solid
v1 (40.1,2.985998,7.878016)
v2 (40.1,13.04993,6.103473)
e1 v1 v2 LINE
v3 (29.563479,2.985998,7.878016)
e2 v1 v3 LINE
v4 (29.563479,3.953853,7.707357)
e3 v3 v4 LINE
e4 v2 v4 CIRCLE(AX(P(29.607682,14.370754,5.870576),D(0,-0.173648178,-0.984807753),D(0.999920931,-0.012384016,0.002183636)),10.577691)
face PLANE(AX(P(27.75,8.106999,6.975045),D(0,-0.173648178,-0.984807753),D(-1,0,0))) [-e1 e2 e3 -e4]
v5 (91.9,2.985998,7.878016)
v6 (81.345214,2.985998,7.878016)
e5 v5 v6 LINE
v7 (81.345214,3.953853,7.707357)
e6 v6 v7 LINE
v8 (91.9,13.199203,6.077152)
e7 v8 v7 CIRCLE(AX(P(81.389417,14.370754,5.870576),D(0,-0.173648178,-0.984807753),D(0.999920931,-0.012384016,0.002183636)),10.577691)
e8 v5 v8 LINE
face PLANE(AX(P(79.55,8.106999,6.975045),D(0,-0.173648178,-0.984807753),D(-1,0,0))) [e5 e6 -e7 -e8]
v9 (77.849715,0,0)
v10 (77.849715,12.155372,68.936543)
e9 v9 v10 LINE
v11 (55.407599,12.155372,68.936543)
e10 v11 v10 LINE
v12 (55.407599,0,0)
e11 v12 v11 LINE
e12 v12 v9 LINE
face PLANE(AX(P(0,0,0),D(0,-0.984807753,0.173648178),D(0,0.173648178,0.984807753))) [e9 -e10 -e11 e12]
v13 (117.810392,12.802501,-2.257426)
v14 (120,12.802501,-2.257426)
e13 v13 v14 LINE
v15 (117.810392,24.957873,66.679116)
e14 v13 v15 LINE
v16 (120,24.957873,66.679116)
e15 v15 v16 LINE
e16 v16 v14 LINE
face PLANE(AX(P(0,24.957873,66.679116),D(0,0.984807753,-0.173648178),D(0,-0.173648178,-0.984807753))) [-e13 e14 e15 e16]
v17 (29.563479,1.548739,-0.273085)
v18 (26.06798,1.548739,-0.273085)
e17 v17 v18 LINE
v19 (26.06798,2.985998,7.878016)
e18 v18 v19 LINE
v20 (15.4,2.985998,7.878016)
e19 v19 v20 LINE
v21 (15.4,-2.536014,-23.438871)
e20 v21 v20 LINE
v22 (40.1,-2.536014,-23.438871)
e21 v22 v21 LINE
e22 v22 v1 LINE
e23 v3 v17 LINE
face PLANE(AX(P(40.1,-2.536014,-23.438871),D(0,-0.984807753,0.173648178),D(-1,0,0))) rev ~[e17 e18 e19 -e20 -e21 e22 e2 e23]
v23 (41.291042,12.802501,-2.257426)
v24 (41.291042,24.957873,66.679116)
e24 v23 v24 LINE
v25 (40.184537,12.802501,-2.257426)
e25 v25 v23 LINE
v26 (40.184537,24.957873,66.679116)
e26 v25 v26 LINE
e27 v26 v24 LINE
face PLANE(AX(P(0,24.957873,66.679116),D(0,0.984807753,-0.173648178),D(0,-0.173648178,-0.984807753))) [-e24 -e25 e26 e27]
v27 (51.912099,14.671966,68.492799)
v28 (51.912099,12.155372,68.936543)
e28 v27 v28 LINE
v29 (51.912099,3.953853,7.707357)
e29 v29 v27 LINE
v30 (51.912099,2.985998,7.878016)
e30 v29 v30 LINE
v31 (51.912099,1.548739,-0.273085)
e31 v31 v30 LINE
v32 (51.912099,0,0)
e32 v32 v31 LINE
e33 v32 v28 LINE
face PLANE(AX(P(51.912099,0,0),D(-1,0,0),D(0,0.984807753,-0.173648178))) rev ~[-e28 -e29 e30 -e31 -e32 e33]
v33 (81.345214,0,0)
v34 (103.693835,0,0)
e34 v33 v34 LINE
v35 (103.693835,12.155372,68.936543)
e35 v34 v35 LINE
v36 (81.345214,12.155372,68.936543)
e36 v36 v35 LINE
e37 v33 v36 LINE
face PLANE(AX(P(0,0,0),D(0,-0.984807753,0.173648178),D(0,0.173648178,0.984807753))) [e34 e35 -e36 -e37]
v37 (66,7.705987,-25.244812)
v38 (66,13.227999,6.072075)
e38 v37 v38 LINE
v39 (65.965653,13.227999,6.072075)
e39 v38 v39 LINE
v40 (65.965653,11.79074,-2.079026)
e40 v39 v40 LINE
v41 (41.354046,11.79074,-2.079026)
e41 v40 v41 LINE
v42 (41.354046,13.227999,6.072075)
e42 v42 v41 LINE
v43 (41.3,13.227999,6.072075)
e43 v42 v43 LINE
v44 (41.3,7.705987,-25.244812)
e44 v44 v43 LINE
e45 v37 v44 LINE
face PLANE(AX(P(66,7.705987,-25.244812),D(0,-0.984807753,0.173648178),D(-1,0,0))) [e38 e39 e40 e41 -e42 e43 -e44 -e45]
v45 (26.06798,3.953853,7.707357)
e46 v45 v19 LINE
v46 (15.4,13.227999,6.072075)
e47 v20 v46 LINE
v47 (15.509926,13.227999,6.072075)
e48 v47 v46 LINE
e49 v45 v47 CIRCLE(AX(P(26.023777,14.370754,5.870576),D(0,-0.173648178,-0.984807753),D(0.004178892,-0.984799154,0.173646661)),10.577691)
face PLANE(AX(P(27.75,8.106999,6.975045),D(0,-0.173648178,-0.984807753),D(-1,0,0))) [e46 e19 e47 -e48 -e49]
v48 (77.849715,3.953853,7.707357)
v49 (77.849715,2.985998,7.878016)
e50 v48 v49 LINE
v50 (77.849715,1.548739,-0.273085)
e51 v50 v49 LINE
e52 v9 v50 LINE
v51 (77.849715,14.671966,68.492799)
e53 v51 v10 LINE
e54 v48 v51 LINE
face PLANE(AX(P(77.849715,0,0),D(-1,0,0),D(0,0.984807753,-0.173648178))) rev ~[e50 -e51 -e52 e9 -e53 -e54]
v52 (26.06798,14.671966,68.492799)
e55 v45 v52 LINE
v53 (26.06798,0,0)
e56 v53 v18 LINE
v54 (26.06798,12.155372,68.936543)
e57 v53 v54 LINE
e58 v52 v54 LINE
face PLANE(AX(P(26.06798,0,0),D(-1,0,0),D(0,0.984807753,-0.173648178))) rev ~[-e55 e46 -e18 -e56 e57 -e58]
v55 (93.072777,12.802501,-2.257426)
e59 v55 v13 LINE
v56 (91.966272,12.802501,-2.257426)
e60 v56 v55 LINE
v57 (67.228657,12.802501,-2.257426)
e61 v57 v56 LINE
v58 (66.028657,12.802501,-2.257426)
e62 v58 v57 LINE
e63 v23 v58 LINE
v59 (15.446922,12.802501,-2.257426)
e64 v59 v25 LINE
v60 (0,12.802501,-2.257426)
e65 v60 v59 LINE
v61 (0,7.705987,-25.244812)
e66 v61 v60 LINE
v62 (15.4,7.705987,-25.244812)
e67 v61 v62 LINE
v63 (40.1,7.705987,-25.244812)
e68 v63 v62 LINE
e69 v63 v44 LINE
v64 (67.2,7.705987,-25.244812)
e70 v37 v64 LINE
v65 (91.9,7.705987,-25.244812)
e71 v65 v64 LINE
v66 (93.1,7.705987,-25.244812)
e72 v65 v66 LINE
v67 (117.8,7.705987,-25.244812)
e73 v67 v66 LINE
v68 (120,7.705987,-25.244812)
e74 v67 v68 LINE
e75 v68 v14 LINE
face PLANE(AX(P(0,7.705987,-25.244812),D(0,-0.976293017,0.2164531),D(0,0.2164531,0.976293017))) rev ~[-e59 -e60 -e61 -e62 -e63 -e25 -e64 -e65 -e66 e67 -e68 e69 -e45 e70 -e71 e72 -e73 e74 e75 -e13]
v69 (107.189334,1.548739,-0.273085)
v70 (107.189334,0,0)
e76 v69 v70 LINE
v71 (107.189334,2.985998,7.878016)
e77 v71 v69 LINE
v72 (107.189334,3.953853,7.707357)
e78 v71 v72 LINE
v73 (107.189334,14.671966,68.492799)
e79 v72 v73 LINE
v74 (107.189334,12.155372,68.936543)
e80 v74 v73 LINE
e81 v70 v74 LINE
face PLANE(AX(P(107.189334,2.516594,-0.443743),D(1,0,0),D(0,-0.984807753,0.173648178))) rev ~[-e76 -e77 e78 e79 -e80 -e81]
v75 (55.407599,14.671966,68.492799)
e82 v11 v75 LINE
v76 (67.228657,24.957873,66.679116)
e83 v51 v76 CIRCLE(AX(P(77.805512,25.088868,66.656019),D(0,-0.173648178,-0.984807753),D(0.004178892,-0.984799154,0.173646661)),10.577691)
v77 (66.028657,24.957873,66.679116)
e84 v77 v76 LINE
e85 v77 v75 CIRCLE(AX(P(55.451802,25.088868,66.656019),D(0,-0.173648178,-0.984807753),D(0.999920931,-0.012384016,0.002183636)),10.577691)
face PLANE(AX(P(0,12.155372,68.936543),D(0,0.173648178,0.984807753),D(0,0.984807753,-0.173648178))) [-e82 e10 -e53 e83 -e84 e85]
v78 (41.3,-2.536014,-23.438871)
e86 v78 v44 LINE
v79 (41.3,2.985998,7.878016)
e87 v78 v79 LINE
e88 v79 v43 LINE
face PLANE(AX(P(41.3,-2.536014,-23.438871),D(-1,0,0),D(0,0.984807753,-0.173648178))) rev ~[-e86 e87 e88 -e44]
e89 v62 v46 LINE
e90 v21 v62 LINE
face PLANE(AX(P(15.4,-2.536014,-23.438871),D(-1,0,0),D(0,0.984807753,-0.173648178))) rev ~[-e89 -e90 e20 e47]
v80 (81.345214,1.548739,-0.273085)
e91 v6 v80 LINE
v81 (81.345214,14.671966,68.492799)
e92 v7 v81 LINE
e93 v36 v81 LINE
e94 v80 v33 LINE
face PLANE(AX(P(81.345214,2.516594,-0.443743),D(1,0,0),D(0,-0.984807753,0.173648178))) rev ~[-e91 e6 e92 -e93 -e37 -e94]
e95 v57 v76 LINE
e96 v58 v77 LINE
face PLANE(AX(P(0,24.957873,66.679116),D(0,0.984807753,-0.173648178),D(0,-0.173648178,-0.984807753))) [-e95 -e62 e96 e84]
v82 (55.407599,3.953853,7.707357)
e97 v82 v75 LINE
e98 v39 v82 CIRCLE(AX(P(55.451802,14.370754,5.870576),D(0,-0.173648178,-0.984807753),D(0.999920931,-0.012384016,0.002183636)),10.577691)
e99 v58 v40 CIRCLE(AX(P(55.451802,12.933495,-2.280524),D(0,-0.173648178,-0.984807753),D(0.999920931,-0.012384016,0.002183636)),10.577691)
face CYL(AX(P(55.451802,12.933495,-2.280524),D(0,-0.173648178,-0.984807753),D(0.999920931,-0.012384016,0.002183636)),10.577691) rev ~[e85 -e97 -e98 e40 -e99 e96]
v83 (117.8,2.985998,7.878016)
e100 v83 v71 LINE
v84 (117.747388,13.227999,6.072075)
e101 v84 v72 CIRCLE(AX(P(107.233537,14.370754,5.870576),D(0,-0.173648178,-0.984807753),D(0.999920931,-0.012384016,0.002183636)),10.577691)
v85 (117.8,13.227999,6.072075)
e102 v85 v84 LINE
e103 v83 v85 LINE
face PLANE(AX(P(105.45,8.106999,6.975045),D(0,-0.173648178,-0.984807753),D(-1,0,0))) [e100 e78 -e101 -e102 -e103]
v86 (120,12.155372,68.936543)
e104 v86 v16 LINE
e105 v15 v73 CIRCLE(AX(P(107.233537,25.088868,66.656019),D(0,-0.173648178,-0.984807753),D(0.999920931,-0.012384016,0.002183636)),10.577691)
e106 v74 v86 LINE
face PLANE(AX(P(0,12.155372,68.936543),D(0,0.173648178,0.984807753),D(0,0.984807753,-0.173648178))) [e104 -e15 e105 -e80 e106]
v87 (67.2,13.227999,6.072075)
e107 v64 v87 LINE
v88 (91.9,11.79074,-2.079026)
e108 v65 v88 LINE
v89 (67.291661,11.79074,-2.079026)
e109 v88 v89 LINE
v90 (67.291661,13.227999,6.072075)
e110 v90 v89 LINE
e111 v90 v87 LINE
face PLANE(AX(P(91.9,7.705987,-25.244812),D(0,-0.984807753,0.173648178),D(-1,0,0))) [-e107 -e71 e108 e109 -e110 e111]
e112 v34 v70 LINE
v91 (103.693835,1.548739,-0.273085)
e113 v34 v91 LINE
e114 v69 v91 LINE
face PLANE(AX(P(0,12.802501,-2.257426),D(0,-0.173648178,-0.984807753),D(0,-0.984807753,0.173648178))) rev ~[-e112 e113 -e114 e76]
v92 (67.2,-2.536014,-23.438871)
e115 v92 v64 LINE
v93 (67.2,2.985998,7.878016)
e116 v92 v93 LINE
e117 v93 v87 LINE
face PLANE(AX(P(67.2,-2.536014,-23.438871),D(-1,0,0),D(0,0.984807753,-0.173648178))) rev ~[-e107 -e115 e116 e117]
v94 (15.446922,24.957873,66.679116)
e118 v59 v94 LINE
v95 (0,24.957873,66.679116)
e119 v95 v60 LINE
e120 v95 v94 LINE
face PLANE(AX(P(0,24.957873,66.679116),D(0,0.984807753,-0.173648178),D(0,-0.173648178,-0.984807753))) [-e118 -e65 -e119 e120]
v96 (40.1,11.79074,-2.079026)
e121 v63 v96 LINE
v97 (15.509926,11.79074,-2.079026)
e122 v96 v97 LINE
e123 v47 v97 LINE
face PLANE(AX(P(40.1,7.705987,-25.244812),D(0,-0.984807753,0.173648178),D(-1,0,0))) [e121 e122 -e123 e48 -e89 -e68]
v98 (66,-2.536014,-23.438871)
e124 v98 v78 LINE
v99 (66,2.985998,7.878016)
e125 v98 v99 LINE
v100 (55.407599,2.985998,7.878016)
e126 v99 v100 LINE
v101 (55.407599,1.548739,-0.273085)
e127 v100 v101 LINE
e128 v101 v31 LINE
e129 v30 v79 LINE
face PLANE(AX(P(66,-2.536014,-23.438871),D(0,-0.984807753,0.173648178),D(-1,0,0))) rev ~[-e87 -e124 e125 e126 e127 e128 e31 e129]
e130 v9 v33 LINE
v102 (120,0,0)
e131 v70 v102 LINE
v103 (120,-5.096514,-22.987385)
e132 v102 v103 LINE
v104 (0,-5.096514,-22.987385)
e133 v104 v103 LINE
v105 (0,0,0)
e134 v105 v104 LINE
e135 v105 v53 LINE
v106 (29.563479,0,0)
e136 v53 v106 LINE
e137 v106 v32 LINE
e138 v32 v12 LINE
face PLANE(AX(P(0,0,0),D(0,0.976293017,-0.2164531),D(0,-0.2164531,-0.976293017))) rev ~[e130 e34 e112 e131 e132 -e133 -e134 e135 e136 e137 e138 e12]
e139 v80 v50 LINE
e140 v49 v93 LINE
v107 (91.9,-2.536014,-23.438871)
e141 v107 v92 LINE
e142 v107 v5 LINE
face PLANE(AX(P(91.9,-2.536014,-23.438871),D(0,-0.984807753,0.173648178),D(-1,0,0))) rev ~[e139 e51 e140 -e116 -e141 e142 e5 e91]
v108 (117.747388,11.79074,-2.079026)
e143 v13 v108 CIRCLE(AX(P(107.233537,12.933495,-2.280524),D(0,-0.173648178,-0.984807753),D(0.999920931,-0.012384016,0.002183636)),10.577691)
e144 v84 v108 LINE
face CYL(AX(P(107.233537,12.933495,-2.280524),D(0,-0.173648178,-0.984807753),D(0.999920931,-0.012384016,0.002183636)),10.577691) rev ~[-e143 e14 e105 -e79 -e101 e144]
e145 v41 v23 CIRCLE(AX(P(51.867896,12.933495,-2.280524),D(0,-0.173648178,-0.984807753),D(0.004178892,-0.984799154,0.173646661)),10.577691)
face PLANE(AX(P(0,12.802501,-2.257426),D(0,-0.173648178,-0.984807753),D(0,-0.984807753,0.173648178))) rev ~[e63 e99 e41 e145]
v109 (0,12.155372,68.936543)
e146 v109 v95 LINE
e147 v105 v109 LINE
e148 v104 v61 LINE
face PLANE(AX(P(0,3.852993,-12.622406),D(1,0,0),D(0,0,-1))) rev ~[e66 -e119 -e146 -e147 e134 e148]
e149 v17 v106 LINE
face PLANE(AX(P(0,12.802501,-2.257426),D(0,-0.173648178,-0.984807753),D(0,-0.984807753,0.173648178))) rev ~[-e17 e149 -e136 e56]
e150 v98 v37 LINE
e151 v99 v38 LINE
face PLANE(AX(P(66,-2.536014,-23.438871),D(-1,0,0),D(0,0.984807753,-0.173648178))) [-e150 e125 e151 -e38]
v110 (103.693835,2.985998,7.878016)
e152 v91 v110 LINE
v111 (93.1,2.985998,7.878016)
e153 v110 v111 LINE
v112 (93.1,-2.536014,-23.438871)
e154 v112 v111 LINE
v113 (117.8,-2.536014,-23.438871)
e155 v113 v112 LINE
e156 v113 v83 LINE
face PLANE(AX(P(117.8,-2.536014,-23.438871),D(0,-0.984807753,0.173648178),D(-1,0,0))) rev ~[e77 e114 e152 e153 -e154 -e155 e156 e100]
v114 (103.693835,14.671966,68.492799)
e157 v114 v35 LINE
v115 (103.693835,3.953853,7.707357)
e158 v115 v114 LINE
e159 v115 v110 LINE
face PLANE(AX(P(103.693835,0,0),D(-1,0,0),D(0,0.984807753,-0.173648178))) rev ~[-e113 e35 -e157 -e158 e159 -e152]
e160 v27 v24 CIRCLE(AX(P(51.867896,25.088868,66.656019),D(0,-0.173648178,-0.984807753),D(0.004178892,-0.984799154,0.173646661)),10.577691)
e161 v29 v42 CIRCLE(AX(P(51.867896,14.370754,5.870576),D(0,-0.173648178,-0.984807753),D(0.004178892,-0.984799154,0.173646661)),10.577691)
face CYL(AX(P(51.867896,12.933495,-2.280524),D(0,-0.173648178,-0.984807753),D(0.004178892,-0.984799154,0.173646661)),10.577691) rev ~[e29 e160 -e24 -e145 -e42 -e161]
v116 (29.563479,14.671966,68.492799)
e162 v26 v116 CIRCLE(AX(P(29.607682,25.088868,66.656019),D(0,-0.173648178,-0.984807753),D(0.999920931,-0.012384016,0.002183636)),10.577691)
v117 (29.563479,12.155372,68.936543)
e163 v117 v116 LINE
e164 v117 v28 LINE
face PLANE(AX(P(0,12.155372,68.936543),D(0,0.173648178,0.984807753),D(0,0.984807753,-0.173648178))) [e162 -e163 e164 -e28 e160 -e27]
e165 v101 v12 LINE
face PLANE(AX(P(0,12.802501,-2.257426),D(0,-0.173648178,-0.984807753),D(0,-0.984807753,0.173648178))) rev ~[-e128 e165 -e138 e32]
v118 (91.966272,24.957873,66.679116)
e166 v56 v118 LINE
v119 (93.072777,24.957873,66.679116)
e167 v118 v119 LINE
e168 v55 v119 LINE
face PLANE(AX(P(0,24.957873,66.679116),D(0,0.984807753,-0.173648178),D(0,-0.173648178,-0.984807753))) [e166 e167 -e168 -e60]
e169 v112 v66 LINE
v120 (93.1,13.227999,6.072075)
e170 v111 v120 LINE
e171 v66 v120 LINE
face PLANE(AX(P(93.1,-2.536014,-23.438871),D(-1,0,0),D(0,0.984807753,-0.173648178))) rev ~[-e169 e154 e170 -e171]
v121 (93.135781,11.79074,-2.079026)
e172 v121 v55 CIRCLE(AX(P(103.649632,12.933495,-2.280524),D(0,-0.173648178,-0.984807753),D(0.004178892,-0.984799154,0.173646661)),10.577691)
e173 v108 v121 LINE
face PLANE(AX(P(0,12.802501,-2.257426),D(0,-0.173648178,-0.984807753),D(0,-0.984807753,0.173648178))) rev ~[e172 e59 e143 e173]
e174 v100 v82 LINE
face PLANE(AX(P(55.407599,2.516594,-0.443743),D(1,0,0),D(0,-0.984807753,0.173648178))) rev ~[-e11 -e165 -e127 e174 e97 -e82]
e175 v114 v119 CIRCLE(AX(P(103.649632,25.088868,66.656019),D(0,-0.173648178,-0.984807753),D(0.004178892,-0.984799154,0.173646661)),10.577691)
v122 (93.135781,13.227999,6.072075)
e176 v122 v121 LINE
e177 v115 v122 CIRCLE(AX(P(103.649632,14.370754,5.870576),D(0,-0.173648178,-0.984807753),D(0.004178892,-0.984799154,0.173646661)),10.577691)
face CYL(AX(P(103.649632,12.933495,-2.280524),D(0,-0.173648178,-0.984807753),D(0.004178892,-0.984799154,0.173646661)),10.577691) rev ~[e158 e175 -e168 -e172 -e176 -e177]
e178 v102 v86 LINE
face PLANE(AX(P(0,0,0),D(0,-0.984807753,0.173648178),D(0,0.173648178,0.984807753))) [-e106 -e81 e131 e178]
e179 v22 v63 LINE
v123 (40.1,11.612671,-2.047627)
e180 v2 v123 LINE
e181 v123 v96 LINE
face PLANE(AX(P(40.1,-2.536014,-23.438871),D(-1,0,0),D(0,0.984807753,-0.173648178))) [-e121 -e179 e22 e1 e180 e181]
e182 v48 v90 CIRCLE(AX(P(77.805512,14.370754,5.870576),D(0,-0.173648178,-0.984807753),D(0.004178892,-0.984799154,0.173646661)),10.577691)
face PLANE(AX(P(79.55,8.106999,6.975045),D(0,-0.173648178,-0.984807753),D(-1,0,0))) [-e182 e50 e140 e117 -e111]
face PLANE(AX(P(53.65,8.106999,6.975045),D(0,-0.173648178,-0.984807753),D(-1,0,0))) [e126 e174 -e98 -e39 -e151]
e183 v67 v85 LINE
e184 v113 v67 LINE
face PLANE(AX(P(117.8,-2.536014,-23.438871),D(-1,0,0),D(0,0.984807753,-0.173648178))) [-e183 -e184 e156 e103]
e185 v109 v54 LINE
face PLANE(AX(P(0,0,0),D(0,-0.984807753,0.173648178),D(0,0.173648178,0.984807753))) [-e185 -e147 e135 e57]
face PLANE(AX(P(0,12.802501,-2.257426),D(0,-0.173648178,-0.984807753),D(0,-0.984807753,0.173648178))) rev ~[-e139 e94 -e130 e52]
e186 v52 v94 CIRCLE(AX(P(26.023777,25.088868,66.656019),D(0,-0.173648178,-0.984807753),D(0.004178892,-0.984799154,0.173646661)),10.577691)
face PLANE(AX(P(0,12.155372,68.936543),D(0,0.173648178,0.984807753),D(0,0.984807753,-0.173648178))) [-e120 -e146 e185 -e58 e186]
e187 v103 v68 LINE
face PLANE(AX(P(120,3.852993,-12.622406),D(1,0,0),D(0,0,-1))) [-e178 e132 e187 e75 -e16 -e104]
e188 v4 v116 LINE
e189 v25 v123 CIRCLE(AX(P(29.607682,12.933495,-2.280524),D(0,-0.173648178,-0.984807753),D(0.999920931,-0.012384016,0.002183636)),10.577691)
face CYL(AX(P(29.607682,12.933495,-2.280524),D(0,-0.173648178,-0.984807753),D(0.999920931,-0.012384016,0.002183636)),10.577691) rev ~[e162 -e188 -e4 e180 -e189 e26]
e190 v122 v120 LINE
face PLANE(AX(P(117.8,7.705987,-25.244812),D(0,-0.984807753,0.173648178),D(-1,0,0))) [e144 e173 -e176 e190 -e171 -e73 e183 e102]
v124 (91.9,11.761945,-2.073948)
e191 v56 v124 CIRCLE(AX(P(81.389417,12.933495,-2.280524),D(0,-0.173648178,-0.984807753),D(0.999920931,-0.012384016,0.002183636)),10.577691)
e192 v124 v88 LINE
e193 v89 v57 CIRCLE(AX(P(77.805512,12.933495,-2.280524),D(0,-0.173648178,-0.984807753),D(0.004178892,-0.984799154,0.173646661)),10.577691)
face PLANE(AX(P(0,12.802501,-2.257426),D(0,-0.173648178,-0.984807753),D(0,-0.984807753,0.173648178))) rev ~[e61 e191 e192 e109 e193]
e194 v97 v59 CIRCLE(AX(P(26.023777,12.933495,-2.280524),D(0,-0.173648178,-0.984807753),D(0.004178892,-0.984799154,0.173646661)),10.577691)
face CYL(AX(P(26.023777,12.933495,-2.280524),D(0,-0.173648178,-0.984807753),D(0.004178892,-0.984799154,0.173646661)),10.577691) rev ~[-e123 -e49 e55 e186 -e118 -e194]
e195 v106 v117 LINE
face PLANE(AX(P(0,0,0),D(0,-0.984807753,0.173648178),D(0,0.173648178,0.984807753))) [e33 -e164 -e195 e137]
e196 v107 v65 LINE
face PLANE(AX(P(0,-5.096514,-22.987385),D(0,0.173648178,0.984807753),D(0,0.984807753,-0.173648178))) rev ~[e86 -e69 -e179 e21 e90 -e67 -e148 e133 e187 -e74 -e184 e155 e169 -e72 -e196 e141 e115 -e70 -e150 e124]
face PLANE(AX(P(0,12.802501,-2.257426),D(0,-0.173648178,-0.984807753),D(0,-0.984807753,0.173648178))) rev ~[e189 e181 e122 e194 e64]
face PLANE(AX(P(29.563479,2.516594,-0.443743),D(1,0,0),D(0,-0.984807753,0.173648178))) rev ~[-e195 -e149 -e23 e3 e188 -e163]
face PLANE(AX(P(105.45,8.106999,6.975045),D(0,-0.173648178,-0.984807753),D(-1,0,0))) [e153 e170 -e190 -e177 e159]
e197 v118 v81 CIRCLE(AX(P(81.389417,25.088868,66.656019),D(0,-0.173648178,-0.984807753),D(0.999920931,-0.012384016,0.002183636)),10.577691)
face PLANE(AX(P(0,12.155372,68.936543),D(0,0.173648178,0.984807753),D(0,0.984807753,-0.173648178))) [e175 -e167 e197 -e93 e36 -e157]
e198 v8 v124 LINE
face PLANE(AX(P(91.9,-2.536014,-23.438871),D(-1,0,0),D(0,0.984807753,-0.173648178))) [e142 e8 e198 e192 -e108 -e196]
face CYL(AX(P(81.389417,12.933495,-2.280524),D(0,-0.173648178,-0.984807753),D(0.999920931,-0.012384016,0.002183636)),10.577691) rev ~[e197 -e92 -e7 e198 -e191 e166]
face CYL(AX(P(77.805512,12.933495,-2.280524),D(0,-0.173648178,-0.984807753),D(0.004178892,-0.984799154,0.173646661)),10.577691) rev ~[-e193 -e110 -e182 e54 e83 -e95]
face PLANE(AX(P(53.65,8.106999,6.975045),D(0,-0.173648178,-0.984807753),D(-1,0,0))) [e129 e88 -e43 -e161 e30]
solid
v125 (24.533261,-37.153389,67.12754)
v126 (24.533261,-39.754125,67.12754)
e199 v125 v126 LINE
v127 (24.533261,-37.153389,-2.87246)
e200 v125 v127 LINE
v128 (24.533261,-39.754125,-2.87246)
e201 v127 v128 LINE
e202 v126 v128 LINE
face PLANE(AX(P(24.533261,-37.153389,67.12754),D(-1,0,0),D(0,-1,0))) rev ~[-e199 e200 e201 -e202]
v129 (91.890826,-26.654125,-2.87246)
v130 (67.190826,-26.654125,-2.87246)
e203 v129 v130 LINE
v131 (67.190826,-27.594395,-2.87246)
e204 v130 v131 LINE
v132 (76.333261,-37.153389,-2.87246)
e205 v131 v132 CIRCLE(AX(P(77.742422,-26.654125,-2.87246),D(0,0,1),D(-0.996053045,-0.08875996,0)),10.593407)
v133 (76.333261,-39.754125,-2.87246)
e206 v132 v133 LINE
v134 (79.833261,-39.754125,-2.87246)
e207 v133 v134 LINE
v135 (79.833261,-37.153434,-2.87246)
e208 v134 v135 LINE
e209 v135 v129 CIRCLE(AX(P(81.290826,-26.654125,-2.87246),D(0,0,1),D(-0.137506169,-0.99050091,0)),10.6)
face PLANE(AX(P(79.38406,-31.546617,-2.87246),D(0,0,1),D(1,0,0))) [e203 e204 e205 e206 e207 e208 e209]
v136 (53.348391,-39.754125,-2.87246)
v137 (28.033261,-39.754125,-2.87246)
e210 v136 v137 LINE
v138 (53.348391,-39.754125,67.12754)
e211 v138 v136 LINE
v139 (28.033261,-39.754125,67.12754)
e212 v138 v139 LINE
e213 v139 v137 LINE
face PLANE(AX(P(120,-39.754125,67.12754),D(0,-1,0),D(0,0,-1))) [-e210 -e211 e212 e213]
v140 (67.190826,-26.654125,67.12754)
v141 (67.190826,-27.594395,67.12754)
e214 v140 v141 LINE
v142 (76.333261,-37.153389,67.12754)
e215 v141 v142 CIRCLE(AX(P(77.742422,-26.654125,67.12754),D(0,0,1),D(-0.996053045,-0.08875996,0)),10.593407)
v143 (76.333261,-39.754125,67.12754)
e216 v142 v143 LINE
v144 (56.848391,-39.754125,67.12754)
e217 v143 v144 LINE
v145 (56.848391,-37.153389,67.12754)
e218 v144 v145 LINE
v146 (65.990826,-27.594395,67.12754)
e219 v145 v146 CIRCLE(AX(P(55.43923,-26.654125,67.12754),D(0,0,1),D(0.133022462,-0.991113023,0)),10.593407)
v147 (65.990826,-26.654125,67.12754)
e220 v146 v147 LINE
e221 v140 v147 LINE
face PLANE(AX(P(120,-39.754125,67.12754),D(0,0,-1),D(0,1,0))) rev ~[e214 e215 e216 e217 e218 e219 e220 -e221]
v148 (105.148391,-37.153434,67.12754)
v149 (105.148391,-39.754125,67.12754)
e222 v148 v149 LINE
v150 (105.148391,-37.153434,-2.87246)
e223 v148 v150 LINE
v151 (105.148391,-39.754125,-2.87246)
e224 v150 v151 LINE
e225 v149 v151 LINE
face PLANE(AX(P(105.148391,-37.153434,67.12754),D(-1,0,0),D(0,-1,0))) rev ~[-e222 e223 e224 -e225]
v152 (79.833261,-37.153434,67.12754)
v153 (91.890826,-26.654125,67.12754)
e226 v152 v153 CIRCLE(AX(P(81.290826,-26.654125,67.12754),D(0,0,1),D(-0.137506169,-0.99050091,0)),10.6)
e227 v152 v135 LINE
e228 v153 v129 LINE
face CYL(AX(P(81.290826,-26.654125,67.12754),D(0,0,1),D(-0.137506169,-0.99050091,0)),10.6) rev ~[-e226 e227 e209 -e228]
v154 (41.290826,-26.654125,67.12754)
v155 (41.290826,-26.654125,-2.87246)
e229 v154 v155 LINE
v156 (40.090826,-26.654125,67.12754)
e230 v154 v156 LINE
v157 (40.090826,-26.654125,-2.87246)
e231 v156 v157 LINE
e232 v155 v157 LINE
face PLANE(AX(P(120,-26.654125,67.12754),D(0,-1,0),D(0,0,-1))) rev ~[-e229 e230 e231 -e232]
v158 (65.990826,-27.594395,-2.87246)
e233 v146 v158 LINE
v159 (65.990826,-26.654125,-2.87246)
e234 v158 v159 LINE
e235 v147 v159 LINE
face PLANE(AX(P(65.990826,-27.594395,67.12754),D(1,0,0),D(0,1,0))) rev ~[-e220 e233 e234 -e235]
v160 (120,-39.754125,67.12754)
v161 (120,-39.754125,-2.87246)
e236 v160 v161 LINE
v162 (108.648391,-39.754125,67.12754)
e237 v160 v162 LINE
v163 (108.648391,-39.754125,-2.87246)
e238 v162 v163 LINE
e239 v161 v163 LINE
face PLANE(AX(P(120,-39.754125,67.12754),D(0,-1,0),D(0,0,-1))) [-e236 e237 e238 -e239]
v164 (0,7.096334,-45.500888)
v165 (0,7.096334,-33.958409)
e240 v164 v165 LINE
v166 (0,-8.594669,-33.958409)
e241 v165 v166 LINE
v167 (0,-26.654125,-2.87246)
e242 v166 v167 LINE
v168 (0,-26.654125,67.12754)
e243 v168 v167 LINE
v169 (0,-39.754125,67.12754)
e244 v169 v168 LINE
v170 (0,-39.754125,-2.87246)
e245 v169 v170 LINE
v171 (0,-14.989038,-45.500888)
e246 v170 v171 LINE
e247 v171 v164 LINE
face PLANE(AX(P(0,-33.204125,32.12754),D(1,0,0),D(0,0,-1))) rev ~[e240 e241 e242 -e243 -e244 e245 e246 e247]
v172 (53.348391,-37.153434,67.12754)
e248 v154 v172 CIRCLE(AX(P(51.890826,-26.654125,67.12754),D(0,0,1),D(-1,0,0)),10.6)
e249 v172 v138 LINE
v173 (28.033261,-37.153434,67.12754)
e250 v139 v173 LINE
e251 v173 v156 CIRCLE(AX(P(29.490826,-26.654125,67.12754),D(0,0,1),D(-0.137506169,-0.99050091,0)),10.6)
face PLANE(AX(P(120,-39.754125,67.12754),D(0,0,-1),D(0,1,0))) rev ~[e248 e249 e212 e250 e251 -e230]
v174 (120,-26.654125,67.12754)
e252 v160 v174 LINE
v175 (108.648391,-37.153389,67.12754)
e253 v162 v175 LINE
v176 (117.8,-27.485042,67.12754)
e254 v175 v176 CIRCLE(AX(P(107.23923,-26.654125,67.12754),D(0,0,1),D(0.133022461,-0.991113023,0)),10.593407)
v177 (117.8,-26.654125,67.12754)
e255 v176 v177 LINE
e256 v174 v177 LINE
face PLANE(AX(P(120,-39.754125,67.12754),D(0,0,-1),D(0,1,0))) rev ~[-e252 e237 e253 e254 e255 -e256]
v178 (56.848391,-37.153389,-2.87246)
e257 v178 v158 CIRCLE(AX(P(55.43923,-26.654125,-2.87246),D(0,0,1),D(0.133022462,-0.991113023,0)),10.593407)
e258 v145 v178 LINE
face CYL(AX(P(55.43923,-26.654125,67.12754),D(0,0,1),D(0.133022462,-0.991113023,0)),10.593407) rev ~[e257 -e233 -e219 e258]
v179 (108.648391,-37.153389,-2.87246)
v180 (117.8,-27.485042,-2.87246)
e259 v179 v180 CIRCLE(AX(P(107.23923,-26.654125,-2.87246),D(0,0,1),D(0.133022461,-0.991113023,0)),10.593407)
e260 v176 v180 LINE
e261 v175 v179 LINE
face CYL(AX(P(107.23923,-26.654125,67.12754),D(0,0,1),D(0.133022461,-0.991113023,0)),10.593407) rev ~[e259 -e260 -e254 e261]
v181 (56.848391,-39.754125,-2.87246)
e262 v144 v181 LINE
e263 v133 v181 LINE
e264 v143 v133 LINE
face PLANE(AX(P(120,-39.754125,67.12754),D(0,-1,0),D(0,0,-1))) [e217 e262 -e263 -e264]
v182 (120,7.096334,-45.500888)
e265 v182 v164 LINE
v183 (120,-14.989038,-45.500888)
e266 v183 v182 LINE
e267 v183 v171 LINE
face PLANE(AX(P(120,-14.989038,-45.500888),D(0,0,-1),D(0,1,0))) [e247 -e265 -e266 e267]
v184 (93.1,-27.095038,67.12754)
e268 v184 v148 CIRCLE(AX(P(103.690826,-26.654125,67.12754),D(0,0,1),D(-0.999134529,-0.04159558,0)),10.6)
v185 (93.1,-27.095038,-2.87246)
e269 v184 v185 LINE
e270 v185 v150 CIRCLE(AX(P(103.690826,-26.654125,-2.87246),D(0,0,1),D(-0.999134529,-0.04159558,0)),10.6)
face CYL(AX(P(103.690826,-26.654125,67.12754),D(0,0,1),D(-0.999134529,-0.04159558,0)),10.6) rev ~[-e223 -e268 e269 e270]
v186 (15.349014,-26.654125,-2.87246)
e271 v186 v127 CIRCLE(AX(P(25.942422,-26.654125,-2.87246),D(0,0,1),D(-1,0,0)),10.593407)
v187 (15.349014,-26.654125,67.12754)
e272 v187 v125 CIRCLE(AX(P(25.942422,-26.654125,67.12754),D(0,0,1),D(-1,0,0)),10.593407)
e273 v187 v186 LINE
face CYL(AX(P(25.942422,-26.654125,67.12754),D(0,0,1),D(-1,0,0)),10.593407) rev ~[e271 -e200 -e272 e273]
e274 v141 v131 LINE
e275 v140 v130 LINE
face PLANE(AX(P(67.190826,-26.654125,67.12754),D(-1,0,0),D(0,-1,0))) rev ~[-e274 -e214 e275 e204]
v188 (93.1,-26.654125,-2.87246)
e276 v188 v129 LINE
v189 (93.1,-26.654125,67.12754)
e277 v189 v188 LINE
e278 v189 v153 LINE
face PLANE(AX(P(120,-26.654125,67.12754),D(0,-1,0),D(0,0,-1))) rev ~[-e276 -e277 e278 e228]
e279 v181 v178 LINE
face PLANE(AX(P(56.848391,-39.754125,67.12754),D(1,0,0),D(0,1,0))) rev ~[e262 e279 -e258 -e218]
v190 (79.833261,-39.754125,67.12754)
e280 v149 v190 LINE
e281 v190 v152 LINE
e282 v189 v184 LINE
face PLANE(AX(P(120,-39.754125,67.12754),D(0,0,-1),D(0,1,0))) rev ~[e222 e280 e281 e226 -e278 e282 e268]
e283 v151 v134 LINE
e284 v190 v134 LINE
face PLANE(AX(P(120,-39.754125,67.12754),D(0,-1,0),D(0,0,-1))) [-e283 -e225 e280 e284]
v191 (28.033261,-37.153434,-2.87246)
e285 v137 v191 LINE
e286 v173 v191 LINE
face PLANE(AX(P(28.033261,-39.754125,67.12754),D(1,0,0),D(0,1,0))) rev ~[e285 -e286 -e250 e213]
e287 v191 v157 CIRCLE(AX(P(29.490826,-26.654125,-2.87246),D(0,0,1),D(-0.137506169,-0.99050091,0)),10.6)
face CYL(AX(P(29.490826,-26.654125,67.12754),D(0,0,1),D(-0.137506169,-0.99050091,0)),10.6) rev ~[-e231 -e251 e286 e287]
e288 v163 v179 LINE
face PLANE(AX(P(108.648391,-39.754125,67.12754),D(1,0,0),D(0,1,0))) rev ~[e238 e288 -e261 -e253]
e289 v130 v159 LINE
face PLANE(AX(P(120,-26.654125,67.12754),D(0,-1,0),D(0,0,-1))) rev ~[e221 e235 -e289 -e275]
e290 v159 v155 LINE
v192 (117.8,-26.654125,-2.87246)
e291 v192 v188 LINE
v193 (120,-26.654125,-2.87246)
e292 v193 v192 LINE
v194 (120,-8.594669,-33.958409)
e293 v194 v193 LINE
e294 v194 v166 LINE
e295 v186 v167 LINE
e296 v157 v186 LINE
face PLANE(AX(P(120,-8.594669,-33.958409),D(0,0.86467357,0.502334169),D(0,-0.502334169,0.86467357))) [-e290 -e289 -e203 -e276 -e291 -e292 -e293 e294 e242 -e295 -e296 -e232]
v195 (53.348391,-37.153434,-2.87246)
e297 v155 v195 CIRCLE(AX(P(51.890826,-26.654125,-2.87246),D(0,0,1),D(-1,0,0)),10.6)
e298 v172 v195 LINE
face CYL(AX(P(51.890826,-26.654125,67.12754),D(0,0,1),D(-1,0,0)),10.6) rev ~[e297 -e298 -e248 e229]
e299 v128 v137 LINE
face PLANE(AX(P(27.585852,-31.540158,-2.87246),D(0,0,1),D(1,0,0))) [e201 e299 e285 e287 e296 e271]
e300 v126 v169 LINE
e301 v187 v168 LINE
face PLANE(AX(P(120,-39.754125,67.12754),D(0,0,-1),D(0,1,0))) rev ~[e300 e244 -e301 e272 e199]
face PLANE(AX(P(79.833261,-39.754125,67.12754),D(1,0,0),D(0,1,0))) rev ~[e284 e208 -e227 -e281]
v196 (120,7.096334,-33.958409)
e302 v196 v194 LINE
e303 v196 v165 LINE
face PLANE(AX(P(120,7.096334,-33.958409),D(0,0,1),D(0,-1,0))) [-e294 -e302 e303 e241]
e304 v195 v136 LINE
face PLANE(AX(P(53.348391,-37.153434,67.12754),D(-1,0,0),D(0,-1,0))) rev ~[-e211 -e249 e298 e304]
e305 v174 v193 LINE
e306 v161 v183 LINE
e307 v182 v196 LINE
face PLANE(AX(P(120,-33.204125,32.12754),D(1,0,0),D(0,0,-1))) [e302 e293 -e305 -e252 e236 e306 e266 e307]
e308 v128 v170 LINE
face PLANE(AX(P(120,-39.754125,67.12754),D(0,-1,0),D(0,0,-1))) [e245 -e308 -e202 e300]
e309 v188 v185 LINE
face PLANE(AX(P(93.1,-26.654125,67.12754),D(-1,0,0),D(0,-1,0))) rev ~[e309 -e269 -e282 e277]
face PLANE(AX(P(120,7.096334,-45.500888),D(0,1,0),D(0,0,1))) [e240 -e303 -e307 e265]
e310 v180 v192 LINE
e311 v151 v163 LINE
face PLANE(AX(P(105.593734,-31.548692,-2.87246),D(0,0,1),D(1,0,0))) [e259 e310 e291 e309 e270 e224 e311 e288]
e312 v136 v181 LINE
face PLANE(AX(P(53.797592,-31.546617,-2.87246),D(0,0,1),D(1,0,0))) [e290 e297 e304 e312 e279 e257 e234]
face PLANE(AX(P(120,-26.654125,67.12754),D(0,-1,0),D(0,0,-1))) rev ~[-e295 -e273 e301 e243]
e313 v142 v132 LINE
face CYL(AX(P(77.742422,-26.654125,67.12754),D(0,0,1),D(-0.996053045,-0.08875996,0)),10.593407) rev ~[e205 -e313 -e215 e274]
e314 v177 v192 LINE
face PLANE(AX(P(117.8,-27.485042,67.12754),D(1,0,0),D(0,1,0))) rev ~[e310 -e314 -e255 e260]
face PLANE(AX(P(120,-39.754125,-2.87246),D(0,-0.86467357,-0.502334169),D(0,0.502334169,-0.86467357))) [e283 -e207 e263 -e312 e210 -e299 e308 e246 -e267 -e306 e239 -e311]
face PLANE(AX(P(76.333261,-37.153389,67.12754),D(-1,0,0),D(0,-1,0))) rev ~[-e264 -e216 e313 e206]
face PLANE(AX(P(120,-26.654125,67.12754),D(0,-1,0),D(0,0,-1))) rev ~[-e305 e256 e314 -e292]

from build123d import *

# Parameters (mm, degrees)
BOSS_EXTRUDE1_DEPTH = 120
CUT_EXTRUDE4_DEPTH  = 141.624117266
BOSS_EXTRUDE4_START = -120
BOSS_EXTRUDE4_DEPTH = 120
SKETCH11_W          = 24.7
SKETCH11_H          = 10.4
CUT_EXTRUDE9_DEPTH  = 31.8
BOSS_EXTRUDE5_DEPTH = 120
SKETCH14_W          = 70
SKETCH14_H          = 13.1
BOSS_EXTRUDE6_DEPTH = 120
CUT_EXTRUDE12_DEPTH = 70


with BuildPart() as part:
    # Sketch2 → Boss-Extrude1 (new body)
    with BuildSketch(Plane(origin=(0, 0, 0), x_dir=(0, 0, -1), z_dir=(1, 0, 0))):
        Polygon((-68.936542711, 12.155372437), (-66.679116401, 24.957873226), (2.25742631, 12.802500789), (0, 0), align=None)
    extrude(amount=BOSS_EXTRUDE1_DEPTH)

    # Sketch4 → Cut-Extrude4 (cut, through all)
    with BuildSketch(Plane(origin=(0, 0, 0), x_dir=(-1, 0, 0), z_dir=(0, -0.17364817766692411, -0.9848077530122092))):
        with BuildLine():
            ThreePointArc((-103.693834735, 2.555416204), (-96.232993561, 5.591063706), (-93.072776831, 13))
            Line((-93.072776831, 13), (-117.810392147, 13))
            ThreePointArc((-117.810392147, 13), (-114.650175417, 5.591063706), (-107.189334244, 2.555416204))
            Line((-107.189334244, 2.555416204), (-107.189334244, 0))
            Line((-107.189334244, 0), (-103.693834735, 0))
            Line((-103.693834735, 0), (-103.693834735, 2.555416204))
        make_face()
        with BuildLine():
            Line((-67.228656909, 13), (-91.966272224, 13))
            ThreePointArc((-91.966272224, 13), (-88.806055495, 5.591063706), (-81.345214321, 2.555416204))
            Line((-81.345214321, 2.555416204), (-81.345214321, 0))
            Line((-81.345214321, 0), (-77.849714812, 0))
            Line((-77.849714812, 0), (-77.849714812, 2.555416204))
            ThreePointArc((-77.849714812, 2.555416204), (-70.388873638, 5.591063706), (-67.228656909, 13))
        make_face()
        with BuildLine():
            Line((-41.291041594, 13), (-66.028656909, 13))
            ThreePointArc((-66.028656909, 13), (-62.86844018, 5.591063706), (-55.407599006, 2.555416204))
            Line((-55.407599006, 2.555416204), (-55.407599006, 0))
            Line((-55.407599006, 0), (-51.912099497, 0))
            Line((-51.912099497, 0), (-51.912099497, 2.555416204))
            ThreePointArc((-51.912099497, 2.555416204), (-44.451258323, 5.591063706), (-41.291041594, 13))
        make_face()
        with BuildLine():
            Line((-15.446921672, 13), (-40.184536987, 13))
            ThreePointArc((-40.184536987, 13), (-37.024320257, 5.591063706), (-29.563479084, 2.555416204))
            Line((-29.563479084, 2.555416204), (-29.563479084, 0))
            Line((-29.563479084, 0), (-26.067979575, 0))
            Line((-26.067979575, 0), (-26.067979575, 2.555416204))
            ThreePointArc((-26.067979575, 2.555416204), (-18.607138401, 5.591063706), (-15.446921672, 13))
        make_face()
    extrude(amount=-CUT_EXTRUDE4_DEPTH, mode=Mode.SUBTRACT)


with BuildPart() as cut_extrude4_piece_1:
    # of the separate pieces the step leaves, piece 1, a body of its own (cut_extrude4_pieces)
    add(part.part.solids().sort_by_distance((0, 12.155372437, 68.936542711))[0])



with BuildPart() as cut_extrude4_piece_2:
    # of the separate pieces the step leaves, piece 2, a body of its own (cut_extrude4_pieces)
    add(part.part.solids().sort_by_distance((55.407599006, 12.155372437, 68.936542711))[0])


with BuildPart() as cut_extrude4_piece_3:
    # of the separate pieces the step leaves, piece 3, a body of its own (cut_extrude4_pieces)
    add(part.part.solids().sort_by_distance((81.345214321, 12.155372437, 68.936542711))[0])


with BuildPart() as cut_extrude4_piece_4:
    # of the separate pieces the step leaves, piece 4, a body of its own (cut_extrude4_pieces)
    add(part.part.solids().sort_by_distance((29.563479084, 12.155372437, 68.936542711))[0])


with BuildPart() as cut_extrude4_piece_5:
    # of the separate pieces the step leaves, piece 5, a body of its own (cut_extrude4_pieces)
    add(part.part.solids().sort_by_distance((107.189334244, 12.155372437, 68.936542711))[0])


with BuildPart() as cut_extrude4_piece_1_1:
    add(cut_extrude4_piece_1.part)

    add(cut_extrude4_piece_2.part)  # Boss-Extrude4 merges Cut-Extrude4 piece 2

    add(cut_extrude4_piece_3.part)  # Boss-Extrude4 merges Cut-Extrude4 piece 3

    add(cut_extrude4_piece_4.part)  # Boss-Extrude4 merges Cut-Extrude4 piece 4

    add(cut_extrude4_piece_5.part)  # Boss-Extrude4 merges Cut-Extrude4 piece 5
    # Sketch5 → Boss-Extrude4 (add)
    with BuildSketch(Plane(origin=(120, 0, 0), x_dir=(0, 0, -1), z_dir=(1, 0, 0)).offset(BOSS_EXTRUDE4_START)):
        Polygon((0, 0), (22.987385459, -5.096513818), (25.244811769, 7.705986971), (2.25742631, 12.802500789), align=None)
    extrude(amount=BOSS_EXTRUDE4_DEPTH)

    # Sketch11 → Cut-Extrude9 (cut)
    with BuildSketch(Plane(origin=(0, -4.08475313, -23.165786166), x_dir=(-1, 0, 0), z_dir=(0, -0.17364817766692414, -0.9848077530122092))):
        with Locations((-105.45, 6.772631273)):
            Rectangle(SKETCH11_W, SKETCH11_H)
        with Locations((-79.55, 6.772631273)):
            Rectangle(SKETCH11_W, SKETCH11_H)
        with Locations((-53.65, 6.772631273)):
            Rectangle(SKETCH11_W, SKETCH11_H)
        with Locations((-27.75, 6.772631273)):
            Rectangle(SKETCH11_W, SKETCH11_H)
    extrude(amount=-CUT_EXTRUDE9_DEPTH, mode=Mode.SUBTRACT)


with BuildPart() as body_2:
    # Sketch13 → Boss-Extrude5 (new body)
    with BuildSketch(Plane(origin=(120, 0, 0), x_dir=(0, 0, -1), z_dir=(1, 0, 0))):
        Polygon((33.958408758, 7.096334178), (33.958408758, -8.594668686), (2.872459687, -26.654124813), (2.872459687, -39.754124813), (45.500887711, -14.989038057), (45.500887711, 7.096334178), align=None)
    extrude(amount=-BOSS_EXTRUDE5_DEPTH)

    # Sketch14 → Boss-Extrude6 (add)
    with BuildSketch(Plane(origin=(120, 0, 0), x_dir=(0, 0, -1), z_dir=(1, 0, 0))):
        with Locations((-32.127540313, -33.204124813)):
            Rectangle(SKETCH14_W, SKETCH14_H)
    extrude(amount=-BOSS_EXTRUDE6_DEPTH)

    # Sketch15 → Cut-Extrude12 (cut)
    with BuildSketch(Plane.XY.offset(67.127540313)):
        with BuildLine():
            ThreePointArc((28.033260622, -37.153434464), (36.451781652, -34.648191148), (40.090826011, -26.654124813))
            Line((40.090826011, -26.654124813), (15.349014314, -26.654124813))
            ThreePointArc((15.349014314, -26.654124813), (17.969088097, -33.628809866), (24.533260622, -37.153388888))
            Line((24.533260622, -37.153388888), (24.533260622, -39.754124813))
            Line((24.533260622, -39.754124813), (28.033260622, -39.754124813))
            Line((28.033260622, -39.754124813), (28.033260622, -37.153434464))
        make_face()
        with BuildLine():
            Line((65.990826011, -27.594395238), (65.990826011, -26.654124813))
            Line((65.990826011, -26.654124813), (41.290826011, -26.654124813))
            ThreePointArc((41.290826011, -26.654124813), (44.92987037, -34.648191148), (53.348391401, -37.153434464))
            Line((53.348391401, -37.153434464), (53.348391401, -39.754124813))
            Line((53.348391401, -39.754124813), (56.848391401, -39.754124813))
            Line((56.848391401, -39.754124813), (56.848391401, -37.153388888))
            ThreePointArc((56.848391401, -37.153388888), (63.094850175, -33.976130347), (65.990826011, -27.594395238))
        make_face()
        with BuildLine():
            Line((91.890826011, -26.654124813), (67.190826011, -26.654124813))
            Line((67.190826011, -26.654124813), (67.190826011, -27.594395238))
            ThreePointArc((67.190826011, -27.594395238), (70.086801847, -33.976130347), (76.333260622, -37.153388888))
            Line((76.333260622, -37.153388888), (76.333260622, -39.754124813))
            Line((76.333260622, -39.754124813), (79.833260622, -39.754124813))
            Line((79.833260622, -39.754124813), (79.833260622, -37.153434464))
            ThreePointArc((79.833260622, -37.153434464), (88.251781652, -34.648191148), (91.890826011, -26.654124813))
        make_face()
        with BuildLine():
            Line((105.148391401, -37.153434464), (105.148391401, -39.754124813))
            Line((105.148391401, -39.754124813), (108.648391401, -39.754124813))
            Line((108.648391401, -39.754124813), (108.648391401, -37.153388888))
            ThreePointArc((108.648391401, -37.153388888), (114.932671804, -33.936379858), (117.8, -27.485042299))
            Line((117.8, -27.485042299), (117.8, -26.654124813))
            Line((117.8, -26.654124813), (93.1, -26.654124813))
            Line((93.1, -26.654124813), (93.1, -27.095037956))
            ThreePointArc((93.1, -27.095037956), (96.897671555, -34.79126513), (105.148391401, -37.153434464))
        make_face()
    extrude(amount=-CUT_EXTRUDE12_DEPTH, mode=Mode.SUBTRACT)


solid = Compound([cut_extrude4_piece_1_1.part, body_2.part])
